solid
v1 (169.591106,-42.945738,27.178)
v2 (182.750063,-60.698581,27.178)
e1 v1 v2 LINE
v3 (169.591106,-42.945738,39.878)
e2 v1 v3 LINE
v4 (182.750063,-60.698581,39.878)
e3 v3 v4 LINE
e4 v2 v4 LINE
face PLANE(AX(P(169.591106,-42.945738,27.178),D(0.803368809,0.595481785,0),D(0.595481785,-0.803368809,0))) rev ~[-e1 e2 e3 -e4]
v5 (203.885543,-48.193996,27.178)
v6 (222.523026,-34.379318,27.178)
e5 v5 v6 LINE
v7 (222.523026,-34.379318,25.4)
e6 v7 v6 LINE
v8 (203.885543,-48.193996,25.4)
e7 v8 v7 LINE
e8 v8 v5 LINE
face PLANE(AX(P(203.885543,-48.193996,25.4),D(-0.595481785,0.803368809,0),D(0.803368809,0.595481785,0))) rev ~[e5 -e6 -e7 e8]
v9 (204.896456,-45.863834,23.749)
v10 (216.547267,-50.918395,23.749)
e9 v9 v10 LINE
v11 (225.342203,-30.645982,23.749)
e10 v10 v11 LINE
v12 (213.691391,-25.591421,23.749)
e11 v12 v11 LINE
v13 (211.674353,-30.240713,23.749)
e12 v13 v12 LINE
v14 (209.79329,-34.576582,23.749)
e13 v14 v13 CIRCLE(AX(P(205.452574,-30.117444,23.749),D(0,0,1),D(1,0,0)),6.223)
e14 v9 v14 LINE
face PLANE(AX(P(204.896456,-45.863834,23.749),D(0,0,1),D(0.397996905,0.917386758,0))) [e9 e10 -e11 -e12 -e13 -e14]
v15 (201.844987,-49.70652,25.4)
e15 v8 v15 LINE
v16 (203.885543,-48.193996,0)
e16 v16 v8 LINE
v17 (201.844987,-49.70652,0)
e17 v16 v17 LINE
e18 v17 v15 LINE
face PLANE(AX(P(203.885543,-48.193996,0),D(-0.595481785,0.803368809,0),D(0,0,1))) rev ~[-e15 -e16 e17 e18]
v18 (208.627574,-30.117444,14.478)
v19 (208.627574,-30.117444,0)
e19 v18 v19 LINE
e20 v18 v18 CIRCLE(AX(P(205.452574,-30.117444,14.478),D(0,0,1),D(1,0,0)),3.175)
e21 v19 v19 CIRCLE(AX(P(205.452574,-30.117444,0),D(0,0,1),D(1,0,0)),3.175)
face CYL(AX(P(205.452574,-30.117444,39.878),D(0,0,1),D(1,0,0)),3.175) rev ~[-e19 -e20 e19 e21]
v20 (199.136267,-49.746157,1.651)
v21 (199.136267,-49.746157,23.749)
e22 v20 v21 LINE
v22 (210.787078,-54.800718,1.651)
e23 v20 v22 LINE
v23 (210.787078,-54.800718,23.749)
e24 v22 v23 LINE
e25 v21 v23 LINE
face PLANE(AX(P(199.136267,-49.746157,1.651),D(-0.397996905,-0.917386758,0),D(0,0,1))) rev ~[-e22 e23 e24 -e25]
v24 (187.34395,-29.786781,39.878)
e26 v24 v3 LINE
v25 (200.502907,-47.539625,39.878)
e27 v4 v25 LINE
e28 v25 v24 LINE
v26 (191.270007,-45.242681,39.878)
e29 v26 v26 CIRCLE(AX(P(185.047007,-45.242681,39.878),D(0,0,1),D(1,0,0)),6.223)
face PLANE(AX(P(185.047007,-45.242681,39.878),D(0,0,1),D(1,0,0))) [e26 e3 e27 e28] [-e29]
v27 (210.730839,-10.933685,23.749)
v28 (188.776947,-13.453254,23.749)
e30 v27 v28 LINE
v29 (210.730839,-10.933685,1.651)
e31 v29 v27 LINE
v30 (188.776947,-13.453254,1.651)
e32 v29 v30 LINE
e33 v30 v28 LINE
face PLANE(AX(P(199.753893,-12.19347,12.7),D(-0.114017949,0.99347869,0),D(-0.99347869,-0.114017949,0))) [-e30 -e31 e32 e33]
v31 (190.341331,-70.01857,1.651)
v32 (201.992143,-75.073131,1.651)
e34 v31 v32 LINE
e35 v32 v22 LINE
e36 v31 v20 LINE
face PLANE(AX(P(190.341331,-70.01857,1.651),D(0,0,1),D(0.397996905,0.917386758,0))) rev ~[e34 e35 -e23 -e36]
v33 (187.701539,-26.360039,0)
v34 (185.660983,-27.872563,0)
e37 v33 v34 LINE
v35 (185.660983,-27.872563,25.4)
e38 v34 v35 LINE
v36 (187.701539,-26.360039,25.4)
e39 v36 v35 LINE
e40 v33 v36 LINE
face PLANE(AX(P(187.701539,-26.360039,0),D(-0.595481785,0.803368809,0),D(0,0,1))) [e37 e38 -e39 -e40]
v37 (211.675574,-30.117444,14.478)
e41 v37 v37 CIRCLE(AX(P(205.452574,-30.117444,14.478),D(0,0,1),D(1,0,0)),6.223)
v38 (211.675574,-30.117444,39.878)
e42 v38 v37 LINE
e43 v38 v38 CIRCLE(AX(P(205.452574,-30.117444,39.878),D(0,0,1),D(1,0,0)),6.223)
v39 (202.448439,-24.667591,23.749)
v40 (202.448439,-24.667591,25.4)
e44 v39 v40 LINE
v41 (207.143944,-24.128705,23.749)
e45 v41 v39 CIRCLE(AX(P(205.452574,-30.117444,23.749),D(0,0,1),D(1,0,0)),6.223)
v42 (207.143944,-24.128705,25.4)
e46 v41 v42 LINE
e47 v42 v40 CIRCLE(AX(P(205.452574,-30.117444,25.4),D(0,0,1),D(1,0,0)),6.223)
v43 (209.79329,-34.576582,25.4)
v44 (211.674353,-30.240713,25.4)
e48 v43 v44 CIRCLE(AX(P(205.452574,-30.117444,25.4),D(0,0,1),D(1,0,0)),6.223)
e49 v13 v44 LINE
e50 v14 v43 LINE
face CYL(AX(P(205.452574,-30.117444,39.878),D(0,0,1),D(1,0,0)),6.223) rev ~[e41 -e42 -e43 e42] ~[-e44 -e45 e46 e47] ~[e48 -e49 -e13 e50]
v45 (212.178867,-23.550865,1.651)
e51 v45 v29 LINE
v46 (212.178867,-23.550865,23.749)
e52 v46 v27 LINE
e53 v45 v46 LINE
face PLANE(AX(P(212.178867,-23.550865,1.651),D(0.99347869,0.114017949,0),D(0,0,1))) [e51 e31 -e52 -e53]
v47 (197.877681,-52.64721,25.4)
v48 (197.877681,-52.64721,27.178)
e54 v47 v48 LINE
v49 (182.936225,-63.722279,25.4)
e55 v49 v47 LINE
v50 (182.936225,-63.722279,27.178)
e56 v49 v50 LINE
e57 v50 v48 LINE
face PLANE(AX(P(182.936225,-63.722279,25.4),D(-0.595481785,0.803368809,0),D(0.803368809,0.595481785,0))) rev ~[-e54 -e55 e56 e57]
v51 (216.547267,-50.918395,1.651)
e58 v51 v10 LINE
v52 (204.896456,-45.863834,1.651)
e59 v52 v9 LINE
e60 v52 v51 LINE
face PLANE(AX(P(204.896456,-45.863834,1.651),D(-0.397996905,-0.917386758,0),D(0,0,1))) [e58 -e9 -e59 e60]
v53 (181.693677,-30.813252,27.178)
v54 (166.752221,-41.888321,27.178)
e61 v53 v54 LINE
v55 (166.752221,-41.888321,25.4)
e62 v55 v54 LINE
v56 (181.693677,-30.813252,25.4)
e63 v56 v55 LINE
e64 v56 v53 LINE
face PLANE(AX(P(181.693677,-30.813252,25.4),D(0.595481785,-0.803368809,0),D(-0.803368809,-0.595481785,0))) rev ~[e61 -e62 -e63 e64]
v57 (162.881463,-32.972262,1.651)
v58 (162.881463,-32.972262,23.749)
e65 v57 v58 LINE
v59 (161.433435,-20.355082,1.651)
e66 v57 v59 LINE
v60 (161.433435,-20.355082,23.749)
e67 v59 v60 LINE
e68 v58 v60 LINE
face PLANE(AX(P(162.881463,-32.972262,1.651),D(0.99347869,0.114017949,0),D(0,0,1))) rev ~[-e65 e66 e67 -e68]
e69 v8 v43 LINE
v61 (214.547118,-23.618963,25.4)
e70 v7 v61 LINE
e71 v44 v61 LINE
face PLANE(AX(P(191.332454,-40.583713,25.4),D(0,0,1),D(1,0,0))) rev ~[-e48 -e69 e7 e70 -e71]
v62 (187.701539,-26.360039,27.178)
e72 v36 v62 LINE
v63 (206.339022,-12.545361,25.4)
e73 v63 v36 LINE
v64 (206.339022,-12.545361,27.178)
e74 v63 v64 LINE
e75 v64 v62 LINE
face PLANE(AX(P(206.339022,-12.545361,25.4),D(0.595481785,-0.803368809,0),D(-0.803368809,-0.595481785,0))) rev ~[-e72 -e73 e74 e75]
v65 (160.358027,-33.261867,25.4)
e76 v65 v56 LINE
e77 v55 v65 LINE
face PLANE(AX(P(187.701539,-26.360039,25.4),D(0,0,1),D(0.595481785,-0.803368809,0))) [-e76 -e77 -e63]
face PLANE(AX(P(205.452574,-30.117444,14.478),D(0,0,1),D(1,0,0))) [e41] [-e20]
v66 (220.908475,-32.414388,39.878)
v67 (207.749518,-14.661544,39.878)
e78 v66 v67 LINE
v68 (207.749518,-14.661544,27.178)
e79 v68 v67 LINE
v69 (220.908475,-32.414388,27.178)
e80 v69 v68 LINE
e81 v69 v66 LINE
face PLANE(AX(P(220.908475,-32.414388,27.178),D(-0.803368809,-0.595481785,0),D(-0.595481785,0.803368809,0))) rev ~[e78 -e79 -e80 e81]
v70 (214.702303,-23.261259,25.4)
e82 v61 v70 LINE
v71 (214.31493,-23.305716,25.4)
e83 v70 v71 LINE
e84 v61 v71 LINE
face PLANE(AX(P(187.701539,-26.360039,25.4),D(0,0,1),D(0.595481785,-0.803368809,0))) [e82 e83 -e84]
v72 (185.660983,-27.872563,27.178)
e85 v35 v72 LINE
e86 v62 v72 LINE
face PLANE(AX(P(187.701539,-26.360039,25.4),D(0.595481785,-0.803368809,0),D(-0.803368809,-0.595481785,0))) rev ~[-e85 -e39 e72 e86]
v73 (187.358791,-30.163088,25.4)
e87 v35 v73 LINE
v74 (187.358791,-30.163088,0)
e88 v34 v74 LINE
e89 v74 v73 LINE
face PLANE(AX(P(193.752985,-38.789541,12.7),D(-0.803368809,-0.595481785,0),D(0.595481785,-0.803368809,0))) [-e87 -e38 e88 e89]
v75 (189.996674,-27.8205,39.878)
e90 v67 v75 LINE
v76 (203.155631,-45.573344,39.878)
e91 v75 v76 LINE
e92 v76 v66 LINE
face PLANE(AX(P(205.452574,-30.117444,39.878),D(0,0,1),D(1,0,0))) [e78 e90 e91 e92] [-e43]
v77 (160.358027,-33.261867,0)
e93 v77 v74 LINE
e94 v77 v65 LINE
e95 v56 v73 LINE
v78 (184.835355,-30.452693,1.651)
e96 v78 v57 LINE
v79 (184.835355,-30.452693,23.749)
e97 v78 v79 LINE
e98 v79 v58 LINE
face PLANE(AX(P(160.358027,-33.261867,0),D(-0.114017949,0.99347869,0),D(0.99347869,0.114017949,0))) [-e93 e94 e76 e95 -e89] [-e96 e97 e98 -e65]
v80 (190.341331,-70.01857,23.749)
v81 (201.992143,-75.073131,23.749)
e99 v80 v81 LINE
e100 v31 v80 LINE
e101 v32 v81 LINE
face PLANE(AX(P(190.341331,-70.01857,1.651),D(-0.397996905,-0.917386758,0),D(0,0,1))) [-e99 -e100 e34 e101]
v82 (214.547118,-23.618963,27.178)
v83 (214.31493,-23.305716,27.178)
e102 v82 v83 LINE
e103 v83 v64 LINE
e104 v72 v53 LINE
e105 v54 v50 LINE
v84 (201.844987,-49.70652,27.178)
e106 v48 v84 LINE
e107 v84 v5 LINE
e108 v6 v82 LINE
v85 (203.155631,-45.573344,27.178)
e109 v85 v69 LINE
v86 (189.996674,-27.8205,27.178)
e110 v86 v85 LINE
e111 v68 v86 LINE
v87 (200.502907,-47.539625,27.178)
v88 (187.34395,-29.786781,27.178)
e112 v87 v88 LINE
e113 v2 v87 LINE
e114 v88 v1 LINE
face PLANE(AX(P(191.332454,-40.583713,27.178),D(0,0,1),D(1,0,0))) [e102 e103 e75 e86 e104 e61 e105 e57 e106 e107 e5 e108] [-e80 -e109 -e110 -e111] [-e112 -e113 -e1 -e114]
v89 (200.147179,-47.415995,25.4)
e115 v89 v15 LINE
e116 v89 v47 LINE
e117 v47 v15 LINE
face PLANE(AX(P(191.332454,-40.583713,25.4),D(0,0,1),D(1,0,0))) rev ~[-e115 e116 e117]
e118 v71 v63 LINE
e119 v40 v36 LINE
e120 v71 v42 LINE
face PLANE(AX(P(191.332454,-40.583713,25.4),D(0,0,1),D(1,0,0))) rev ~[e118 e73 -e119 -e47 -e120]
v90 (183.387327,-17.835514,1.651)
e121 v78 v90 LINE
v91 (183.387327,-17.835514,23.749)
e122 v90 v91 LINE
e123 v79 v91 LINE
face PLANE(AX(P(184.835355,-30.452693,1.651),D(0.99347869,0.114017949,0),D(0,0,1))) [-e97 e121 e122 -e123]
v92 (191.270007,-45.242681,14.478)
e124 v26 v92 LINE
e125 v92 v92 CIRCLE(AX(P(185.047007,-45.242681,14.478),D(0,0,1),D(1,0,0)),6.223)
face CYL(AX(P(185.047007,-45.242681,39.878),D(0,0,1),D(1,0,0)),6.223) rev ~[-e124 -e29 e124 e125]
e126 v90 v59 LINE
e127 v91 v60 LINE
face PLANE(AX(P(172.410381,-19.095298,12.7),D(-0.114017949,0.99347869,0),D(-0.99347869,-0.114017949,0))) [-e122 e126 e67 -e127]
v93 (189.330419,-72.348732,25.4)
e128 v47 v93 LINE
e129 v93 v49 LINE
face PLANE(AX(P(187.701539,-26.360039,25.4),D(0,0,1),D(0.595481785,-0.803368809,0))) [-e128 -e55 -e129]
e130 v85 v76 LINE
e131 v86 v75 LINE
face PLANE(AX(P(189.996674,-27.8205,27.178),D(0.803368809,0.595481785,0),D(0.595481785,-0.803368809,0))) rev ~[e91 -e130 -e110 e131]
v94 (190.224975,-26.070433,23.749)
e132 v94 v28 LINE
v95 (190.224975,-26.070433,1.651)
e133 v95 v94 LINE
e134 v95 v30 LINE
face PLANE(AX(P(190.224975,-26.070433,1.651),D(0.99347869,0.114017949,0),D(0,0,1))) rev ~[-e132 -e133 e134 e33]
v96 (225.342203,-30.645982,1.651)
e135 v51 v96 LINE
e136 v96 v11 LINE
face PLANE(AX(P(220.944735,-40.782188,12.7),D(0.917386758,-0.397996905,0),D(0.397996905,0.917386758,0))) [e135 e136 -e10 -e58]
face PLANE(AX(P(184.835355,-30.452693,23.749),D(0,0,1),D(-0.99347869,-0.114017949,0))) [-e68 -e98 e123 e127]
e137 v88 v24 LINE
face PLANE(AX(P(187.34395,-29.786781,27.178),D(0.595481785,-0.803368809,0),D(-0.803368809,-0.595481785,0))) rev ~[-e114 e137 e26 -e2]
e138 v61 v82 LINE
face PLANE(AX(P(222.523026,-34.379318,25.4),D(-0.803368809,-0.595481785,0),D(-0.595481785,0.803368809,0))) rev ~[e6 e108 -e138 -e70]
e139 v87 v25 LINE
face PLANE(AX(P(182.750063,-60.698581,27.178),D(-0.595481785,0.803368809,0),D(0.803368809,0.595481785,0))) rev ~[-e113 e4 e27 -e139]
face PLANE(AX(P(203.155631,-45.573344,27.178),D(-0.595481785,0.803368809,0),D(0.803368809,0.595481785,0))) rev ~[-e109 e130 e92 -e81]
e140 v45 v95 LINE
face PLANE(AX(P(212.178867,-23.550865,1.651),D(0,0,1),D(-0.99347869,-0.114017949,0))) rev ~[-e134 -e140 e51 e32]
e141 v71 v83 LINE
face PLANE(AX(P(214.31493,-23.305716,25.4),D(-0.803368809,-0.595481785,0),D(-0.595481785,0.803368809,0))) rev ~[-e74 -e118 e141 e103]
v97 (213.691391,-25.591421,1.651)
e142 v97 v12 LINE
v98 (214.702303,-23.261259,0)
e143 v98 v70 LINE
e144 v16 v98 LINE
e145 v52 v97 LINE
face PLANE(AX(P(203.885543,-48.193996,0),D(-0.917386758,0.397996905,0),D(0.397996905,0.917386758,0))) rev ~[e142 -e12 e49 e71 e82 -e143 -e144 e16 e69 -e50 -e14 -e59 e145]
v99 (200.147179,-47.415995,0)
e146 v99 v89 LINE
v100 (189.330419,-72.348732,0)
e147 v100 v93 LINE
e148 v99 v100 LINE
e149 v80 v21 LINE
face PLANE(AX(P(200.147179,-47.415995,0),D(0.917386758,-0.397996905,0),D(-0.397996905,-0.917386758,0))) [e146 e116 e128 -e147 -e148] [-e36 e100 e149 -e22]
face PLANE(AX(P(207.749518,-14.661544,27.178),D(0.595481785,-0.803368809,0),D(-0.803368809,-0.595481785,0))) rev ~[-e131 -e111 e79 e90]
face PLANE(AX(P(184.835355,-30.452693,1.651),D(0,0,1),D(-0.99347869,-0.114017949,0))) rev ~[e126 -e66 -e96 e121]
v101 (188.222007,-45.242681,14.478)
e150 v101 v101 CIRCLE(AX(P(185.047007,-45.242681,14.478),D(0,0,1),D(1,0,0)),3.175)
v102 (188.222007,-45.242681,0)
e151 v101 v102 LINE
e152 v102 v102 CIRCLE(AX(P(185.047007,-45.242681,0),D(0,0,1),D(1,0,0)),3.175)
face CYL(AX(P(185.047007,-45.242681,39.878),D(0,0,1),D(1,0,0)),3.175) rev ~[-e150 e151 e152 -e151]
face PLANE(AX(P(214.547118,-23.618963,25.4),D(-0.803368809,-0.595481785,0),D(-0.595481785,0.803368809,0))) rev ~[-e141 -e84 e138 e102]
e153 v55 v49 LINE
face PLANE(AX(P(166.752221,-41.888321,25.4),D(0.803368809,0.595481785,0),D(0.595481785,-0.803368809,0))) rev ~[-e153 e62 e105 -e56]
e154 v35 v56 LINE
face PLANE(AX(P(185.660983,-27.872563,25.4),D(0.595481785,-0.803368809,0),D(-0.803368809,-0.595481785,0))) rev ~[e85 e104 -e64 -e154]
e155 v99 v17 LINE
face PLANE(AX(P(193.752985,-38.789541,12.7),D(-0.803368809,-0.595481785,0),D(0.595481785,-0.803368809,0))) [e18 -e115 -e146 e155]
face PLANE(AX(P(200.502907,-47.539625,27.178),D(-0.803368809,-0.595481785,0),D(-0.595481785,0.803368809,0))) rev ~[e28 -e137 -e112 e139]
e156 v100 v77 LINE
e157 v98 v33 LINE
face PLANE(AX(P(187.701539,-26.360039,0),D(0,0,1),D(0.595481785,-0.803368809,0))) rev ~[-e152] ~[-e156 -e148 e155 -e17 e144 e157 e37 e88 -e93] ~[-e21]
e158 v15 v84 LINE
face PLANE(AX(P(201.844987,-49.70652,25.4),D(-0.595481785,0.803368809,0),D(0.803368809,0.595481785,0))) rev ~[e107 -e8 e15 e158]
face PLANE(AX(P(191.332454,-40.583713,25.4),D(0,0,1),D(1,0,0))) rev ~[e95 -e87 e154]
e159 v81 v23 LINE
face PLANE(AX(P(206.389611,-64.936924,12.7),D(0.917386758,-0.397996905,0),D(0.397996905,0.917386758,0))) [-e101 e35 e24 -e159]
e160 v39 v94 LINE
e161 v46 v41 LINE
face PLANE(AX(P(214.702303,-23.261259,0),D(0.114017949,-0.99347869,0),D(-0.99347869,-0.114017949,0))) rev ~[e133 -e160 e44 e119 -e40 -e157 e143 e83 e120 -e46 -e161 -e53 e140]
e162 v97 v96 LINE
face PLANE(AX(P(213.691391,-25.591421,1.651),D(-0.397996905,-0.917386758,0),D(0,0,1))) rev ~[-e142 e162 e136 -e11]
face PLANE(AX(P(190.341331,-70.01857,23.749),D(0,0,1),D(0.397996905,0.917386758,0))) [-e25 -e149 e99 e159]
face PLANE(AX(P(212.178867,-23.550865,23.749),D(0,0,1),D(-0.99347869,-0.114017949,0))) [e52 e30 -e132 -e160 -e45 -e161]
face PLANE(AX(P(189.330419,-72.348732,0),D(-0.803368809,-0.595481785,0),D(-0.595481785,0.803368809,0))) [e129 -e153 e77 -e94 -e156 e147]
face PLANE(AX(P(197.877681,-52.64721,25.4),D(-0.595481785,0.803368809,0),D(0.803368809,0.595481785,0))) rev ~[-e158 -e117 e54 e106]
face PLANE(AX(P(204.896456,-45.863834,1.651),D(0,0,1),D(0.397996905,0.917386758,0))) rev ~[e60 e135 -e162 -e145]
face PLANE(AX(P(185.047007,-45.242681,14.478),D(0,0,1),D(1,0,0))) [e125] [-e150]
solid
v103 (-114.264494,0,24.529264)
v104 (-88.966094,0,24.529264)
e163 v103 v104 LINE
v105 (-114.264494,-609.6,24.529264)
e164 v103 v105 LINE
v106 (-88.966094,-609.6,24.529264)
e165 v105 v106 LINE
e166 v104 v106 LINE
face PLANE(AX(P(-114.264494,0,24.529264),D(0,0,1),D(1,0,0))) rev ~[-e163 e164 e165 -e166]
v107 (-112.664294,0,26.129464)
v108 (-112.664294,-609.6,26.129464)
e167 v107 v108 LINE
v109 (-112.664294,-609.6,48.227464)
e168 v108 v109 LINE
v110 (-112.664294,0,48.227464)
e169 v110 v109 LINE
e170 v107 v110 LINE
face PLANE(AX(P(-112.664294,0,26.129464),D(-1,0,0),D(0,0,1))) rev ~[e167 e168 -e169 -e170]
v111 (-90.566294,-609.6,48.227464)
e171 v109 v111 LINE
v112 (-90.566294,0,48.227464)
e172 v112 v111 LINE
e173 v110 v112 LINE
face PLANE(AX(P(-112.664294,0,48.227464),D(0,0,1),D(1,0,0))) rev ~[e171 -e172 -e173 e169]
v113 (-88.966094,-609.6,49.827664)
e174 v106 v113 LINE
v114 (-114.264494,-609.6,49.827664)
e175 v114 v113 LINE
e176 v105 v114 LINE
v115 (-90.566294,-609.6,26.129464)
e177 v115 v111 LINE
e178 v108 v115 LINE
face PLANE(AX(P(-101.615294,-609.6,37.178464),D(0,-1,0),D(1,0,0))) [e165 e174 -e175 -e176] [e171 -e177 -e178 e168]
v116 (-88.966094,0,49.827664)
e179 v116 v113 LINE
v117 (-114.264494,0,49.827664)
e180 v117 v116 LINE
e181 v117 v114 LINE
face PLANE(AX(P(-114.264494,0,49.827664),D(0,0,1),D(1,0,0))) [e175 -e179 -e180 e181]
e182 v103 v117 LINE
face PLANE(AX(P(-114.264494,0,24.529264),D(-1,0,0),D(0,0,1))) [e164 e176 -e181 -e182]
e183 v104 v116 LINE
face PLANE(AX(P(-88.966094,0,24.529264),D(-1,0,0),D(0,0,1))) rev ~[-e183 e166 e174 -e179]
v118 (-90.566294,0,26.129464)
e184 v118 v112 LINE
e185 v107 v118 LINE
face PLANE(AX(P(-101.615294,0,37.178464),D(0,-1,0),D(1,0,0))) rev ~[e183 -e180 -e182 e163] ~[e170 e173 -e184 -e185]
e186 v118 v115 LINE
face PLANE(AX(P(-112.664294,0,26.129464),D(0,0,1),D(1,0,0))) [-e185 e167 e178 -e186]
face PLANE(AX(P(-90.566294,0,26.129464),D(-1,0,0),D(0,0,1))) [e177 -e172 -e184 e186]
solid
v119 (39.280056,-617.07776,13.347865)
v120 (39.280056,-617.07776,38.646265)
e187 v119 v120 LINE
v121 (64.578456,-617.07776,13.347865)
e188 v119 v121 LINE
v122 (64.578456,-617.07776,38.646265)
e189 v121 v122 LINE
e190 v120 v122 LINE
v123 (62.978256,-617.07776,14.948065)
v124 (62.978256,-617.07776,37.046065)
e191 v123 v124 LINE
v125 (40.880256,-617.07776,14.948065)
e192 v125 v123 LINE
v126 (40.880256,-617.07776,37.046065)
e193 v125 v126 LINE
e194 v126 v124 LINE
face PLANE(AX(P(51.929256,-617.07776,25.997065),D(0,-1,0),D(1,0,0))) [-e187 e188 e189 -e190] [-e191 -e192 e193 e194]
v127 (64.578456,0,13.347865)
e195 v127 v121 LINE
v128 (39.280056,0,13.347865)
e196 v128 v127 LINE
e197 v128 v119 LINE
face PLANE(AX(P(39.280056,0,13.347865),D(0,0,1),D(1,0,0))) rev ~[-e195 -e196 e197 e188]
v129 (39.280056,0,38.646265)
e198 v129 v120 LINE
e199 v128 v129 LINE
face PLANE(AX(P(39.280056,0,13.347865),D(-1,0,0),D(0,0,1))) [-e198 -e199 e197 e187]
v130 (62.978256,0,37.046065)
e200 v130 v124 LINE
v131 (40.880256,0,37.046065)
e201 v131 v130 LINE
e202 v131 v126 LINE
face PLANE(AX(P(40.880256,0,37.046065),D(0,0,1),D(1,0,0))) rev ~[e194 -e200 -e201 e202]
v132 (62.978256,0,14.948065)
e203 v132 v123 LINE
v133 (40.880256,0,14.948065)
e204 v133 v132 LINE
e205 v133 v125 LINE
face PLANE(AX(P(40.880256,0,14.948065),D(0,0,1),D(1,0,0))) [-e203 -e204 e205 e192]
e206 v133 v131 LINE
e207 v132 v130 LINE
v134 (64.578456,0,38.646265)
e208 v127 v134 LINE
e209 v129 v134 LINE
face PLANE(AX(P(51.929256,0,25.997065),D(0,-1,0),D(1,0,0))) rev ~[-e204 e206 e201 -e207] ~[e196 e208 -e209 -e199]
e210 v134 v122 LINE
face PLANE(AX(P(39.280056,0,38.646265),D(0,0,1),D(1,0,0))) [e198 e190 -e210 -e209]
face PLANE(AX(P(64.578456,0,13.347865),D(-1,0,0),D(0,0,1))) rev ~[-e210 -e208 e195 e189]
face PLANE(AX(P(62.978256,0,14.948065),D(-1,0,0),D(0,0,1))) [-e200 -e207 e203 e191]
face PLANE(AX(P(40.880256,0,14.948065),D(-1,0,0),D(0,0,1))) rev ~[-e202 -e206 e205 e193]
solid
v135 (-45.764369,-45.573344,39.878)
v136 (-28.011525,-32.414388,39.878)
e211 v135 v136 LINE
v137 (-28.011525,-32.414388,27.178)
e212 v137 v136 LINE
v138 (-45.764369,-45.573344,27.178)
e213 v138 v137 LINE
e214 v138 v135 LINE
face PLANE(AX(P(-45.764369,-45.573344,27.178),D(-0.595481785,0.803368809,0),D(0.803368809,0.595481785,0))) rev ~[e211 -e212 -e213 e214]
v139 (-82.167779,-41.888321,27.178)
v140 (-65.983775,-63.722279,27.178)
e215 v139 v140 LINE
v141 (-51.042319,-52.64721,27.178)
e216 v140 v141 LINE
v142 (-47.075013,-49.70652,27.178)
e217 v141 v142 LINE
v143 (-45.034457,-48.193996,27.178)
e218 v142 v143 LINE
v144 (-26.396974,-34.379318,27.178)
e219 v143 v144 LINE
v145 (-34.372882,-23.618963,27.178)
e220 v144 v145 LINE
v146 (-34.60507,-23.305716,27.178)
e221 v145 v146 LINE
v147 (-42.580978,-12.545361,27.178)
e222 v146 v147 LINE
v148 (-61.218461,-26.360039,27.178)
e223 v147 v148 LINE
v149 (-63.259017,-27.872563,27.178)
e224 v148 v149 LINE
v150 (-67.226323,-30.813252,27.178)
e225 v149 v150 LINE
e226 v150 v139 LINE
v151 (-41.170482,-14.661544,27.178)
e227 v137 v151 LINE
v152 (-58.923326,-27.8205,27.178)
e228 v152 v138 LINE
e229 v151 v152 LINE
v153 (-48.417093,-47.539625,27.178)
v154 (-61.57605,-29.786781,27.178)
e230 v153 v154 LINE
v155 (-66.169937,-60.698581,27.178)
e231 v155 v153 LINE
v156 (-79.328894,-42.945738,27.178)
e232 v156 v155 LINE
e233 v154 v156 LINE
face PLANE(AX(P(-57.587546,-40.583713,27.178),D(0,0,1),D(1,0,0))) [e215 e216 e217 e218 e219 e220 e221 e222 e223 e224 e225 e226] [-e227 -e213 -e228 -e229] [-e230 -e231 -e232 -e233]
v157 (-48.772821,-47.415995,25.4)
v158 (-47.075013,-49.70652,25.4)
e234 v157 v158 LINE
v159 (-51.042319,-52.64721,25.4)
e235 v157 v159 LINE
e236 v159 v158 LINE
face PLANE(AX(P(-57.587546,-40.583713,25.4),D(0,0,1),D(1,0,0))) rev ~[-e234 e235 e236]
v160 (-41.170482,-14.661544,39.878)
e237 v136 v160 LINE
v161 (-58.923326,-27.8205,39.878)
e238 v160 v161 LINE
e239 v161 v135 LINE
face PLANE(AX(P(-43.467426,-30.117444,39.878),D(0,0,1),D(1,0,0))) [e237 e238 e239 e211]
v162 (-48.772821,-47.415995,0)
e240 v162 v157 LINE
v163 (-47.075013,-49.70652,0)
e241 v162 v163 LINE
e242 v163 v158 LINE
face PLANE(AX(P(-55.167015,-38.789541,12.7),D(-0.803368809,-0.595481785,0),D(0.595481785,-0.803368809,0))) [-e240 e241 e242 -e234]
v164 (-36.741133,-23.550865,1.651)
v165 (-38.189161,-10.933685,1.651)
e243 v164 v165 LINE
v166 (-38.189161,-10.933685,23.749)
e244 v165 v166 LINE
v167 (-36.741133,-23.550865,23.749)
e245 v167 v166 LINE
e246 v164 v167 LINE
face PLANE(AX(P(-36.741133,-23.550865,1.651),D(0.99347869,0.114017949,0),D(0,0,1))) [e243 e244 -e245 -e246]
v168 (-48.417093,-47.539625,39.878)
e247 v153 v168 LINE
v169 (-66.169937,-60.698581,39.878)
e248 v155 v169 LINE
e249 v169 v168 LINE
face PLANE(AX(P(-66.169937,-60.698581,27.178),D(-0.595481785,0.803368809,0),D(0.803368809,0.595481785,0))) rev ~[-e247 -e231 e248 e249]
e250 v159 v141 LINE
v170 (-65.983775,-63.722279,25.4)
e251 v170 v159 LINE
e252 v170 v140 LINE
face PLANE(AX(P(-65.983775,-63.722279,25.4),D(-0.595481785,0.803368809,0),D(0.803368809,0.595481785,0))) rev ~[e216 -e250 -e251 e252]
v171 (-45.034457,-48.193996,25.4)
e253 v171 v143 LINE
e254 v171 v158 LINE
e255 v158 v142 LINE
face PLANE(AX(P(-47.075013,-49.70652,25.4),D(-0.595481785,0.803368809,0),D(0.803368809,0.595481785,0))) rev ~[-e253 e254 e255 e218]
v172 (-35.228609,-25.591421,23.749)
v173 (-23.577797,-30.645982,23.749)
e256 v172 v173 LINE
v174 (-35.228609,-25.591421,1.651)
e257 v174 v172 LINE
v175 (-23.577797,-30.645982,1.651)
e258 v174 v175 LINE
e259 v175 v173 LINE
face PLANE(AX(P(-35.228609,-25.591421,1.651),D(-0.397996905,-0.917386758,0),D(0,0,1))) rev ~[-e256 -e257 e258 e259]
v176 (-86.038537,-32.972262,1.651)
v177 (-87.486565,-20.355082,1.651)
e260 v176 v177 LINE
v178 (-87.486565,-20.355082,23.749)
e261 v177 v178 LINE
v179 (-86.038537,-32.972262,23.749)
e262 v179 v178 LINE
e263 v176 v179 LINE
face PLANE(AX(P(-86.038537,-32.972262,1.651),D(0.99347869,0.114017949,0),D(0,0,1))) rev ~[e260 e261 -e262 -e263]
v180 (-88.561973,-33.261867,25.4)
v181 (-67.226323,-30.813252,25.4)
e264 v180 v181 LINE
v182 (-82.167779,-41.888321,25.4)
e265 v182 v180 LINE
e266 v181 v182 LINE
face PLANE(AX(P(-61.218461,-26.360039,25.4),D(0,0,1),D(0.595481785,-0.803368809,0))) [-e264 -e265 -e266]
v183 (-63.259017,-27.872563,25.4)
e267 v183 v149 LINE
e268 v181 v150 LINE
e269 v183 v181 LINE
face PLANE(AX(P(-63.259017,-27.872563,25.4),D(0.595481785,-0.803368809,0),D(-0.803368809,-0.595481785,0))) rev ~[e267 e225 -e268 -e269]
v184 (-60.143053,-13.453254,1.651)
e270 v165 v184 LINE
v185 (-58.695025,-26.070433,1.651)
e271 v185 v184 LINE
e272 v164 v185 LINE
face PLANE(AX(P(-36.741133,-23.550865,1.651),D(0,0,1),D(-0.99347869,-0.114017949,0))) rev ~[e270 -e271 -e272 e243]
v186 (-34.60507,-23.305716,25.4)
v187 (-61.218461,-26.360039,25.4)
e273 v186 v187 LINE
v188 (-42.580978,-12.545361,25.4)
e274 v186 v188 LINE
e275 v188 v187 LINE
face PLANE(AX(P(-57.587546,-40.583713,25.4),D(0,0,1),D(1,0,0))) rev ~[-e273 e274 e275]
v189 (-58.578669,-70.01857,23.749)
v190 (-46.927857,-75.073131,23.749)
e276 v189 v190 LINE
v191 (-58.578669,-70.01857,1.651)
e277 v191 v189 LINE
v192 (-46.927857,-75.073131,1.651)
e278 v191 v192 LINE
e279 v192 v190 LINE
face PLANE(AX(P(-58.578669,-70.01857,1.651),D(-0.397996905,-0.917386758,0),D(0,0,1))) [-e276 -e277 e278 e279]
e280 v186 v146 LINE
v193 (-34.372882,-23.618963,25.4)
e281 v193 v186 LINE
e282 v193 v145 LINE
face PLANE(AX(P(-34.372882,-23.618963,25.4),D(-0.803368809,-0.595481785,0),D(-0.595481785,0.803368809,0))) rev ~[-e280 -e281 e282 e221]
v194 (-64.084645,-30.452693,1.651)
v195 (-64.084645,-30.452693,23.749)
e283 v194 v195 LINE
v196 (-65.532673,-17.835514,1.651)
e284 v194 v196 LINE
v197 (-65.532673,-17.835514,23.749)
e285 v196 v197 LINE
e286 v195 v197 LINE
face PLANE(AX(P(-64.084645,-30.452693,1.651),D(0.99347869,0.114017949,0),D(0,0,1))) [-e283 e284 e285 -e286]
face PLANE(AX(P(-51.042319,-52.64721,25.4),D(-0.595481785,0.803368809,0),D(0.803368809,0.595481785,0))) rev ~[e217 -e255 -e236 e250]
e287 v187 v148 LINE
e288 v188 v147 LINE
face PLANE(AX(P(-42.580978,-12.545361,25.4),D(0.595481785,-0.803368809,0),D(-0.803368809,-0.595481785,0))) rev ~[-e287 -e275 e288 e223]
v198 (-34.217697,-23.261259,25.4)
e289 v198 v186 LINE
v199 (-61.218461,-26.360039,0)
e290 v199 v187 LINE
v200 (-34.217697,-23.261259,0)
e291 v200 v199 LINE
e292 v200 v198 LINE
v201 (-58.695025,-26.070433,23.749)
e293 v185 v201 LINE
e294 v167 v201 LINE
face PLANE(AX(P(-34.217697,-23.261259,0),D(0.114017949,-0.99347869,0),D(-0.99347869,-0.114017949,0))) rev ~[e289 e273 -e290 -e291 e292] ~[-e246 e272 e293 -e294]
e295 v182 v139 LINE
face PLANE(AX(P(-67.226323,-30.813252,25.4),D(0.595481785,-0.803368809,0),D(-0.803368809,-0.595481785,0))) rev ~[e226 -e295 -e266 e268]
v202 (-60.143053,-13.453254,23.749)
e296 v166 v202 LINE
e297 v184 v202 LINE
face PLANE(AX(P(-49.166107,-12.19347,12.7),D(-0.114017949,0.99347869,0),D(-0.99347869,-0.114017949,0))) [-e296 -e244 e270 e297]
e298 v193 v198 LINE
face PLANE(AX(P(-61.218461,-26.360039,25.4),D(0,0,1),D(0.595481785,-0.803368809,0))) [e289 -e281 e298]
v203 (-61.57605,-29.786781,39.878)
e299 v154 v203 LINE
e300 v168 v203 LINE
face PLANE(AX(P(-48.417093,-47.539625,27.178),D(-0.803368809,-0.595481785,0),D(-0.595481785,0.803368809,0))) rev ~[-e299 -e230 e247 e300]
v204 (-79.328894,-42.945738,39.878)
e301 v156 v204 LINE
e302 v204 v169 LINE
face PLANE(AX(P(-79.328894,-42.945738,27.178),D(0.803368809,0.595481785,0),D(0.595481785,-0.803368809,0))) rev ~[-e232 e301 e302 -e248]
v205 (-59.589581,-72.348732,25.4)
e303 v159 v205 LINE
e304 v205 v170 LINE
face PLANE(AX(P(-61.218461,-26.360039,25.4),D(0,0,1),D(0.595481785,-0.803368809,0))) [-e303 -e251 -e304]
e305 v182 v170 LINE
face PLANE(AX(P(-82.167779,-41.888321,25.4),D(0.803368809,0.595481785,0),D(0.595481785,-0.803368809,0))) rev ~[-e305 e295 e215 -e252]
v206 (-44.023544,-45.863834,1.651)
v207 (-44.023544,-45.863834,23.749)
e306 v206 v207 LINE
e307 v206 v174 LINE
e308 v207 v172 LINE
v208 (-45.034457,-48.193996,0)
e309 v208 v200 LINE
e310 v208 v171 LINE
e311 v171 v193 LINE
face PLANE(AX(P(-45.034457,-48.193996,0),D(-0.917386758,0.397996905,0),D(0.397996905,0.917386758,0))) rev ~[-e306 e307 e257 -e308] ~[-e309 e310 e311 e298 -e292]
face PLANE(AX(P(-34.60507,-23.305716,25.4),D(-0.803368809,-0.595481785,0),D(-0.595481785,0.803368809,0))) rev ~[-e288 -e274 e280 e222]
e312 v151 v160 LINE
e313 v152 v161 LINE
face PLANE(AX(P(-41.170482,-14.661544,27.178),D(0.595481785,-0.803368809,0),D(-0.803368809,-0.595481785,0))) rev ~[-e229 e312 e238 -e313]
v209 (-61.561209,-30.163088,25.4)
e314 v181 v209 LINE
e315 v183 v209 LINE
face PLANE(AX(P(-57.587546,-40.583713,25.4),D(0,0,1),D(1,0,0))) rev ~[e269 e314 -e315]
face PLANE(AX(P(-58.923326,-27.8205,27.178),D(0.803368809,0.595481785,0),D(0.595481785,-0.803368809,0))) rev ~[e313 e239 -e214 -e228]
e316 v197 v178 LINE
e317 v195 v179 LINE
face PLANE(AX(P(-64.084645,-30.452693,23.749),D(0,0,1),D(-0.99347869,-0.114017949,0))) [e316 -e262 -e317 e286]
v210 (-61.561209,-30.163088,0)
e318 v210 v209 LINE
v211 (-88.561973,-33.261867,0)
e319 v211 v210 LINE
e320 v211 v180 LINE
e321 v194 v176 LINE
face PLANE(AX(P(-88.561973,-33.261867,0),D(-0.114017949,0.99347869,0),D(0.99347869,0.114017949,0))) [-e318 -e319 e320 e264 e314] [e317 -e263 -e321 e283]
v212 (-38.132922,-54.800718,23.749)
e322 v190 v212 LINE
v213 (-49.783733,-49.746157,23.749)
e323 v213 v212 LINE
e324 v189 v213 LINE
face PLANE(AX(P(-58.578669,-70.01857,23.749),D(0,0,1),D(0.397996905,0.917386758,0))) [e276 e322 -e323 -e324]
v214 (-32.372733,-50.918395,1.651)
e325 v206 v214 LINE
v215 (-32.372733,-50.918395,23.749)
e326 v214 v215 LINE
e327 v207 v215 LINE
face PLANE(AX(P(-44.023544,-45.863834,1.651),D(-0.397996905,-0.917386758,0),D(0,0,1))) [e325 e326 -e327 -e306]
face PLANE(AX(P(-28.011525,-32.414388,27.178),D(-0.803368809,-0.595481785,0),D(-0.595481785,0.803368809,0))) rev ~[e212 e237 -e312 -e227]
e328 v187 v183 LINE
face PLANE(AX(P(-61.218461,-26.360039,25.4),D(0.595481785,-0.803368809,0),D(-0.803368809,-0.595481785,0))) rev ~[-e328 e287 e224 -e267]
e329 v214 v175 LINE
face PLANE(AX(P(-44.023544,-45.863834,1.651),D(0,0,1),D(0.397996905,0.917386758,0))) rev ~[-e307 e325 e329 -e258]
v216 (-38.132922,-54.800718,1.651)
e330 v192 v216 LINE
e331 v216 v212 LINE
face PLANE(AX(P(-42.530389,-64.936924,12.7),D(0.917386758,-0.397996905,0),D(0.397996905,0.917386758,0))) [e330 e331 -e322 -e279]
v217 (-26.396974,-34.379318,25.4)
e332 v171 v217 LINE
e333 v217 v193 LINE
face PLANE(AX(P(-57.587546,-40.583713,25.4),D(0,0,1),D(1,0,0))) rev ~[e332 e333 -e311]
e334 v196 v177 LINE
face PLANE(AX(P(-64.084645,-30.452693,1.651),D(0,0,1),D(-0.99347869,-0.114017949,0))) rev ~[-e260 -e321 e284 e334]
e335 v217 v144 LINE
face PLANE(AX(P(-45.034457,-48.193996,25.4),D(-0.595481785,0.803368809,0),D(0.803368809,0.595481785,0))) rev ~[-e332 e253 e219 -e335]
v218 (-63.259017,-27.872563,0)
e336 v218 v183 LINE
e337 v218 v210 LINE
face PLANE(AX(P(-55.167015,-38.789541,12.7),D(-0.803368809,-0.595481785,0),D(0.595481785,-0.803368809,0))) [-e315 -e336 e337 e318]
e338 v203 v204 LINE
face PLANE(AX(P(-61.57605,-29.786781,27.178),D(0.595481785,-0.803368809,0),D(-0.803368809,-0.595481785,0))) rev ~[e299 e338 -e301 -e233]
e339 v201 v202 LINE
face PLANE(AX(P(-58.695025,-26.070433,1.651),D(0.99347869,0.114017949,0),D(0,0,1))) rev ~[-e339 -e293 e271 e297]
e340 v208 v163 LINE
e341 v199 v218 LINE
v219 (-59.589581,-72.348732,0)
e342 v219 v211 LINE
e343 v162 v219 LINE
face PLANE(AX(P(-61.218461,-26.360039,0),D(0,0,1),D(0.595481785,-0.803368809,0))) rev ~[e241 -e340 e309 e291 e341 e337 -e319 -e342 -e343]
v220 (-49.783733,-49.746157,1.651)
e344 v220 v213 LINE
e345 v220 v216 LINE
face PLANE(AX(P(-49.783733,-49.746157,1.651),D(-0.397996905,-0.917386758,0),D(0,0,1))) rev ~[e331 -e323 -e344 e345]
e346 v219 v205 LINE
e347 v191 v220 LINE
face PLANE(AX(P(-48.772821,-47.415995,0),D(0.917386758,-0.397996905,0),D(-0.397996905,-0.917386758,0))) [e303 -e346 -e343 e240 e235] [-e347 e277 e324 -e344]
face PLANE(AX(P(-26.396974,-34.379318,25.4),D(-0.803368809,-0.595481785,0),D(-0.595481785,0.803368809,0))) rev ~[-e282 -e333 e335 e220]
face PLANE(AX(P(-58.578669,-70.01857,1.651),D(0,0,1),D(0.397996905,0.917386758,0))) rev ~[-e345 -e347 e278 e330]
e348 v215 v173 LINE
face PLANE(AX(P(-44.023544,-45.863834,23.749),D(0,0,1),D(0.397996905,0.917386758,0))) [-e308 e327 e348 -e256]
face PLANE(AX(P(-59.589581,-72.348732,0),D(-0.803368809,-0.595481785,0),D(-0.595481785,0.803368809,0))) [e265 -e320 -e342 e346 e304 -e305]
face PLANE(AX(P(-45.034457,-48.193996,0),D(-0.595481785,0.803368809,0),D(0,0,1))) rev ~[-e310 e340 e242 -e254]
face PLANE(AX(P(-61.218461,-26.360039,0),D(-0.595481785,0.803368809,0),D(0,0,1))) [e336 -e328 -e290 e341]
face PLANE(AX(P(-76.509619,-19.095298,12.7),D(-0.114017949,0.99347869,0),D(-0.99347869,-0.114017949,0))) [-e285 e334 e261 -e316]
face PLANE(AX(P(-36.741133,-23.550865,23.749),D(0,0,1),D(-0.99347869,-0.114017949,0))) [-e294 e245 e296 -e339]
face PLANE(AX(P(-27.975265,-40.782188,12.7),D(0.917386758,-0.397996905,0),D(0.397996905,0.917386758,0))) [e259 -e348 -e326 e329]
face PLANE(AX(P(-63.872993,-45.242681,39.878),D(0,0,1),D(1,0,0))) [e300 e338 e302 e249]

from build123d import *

# Parameters (mm, degrees)
F0_W      = 25.2984
F0_H      = 25.2984
F0_W_2    = 22.098
F0_H_2    = 22.098
F1_DEPTH  = 609.6
F3_DEPTH  = 25.4
F4_W      = 22.098
F4_H      = 22.098
F5_DEPTH  = 12.7
F6_W      = 22.098
F6_H      = 22.098
F7_DEPTH  = 12.7
F8_W      = 27.178
F8_H      = 25.4
F9_DEPTH  = 2.54
F11_DEPTH = 25.4
F13_W     = 22.098
F13_H     = 22.098
F14_DEPTH = 12.7
F15_W     = 22.098
F15_H     = 22.098
F16_DEPTH = 12.7
F18_DEPTH = 1.778
F20_DEPTH = 12.7
F22_R     = 3.175
F23_R     = 3.175
F24_DEPTH = 50.8
F26_R     = 6.223
F26_R_2   = 3.175
F25_R     = 6.223
F25_R_2   = 3.175
F27_DEPTH = 25.4
F28_W     = 25.2984
F28_H     = 25.2984
F28_W_2   = 22.098
F28_H_2   = 22.098
F29_DEPTH = 617.07776


with BuildPart() as f1:
    # F0 (on Front) → F1 (new body)
    with BuildSketch(Plane.XZ):
        with Locations((-101.6152944864, 37.1784642637)):
            Rectangle(F0_W, F0_H)
        with Locations((-101.6152944864, 37.1784642637)):
            Rectangle(F0_W_2, F0_H_2, mode=Mode.SUBTRACT)
    extrude(amount=F1_DEPTH)


with BuildPart() as f3:
    # F2 (on Top) → F3 (new body)
    with BuildSketch(Plane.XY):
        Polygon((-34.21769673, -23.2612590617), (-61.2184605644, -26.3600388792), (-45.0344566045, -48.1939963727), align=None)
    extrude(amount=F3_DEPTH)

    # F4 (on face) → F5 (join)
    with BuildSketch(Plane(origin=(2.1900719944, -19.082871383, 0), x_dir=(-0.9934786899, -0.114017949, 0), z_dir=(-0.114017949, 0.9934786899, 0))):
        with Locations((50.2357535681, 12.7)):
            Rectangle(F4_W, F4_H)
    extrude(amount=F5_DEPTH)

    # F6 (on face) → F7 (join)
    with BuildSketch(Plane(origin=(-20.3044777856, 8.808846692, 0), x_dir=(0.3979969046, 0.9173867581, 0), z_dir=(0.9173867581, -0.3979969046, 0))):
        with Locations((-48.5471084221, 12.7)):
            Rectangle(F6_W, F6_H)
    extrude(amount=F7_DEPTH)

    # F8 (on face) → F9 (join)
    with BuildSketch(Plane(origin=(-52.1209011583, -38.6336224658, 0), x_dir=(0.5954817853, -0.8033688091, 0), z_dir=(-0.8033688091, -0.5954817853, 0))):
        with Locations((-1.688645146, 12.7)):
            Rectangle(F8_W, F8_H)
    extrude(amount=F9_DEPTH)


with BuildPart() as f11:
    # F10 (on face) → F11 (new body)
    with BuildSketch(Plane(origin=(0, 0, 0), x_dir=(1, 0, 0), z_dir=(0, 0, -1))):
        Polygon((-88.5619732819, 33.2618674112), (-61.5612094474, 30.1630875938), (-48.7728212717, 47.4159951272), (-59.5895811463, 72.3487324381), align=None)
    extrude(amount=-F11_DEPTH)


with BuildPart() as f3_1:
    add(f3.part)

    # F12: union F11
    add(f11.part)

    # F13 (on face) → F14 (join)
    with BuildSketch(Plane(origin=(2.6164042983, -22.7976554369, 0), x_dir=(-0.9934786899, -0.114017949, 0), z_dir=(-0.114017949, 0.9934786899, 0))):
        with Locations((78.1878830937, 12.7)):
            Rectangle(F13_W, F13_H)
    extrude(amount=F14_DEPTH)

    # F15 (on face) → F16 (join)
    with BuildSketch(Plane(origin=(-23.7347412977, 10.2970241133, 0), x_dir=(0.3979969046, 0.9173867581, 0), z_dir=(0.9173867581, -0.3979969046, 0))):
        with Locations((-76.4992379477, 12.7)):
            Rectangle(F15_W, F15_H)
    extrude(amount=F16_DEPTH)

    # F17 (on face) → F18 (join)
    with BuildSketch(Plane.XY.offset(25.4)):
        Polygon((-82.167779194, -41.8883211779), (-65.9837752341, -63.7222786714), (-51.0423190211, -52.6472096378), (-48.7728212717, -47.4159951272), (-47.0750133796, -49.7065201072), (-45.0344566045, -48.1939963727), (-34.3728819471, -23.6189625051), (-34.6050696075, -23.3057164431), (-61.2184605644, -26.3600388792), (-63.2590173395, -27.8725626138), (-61.5612094474, -30.1630875938), (-67.2263229809, -30.8132521443), align=None)
        Polygon((-34.3728819471, -23.6189625051), (-45.0344566045, -48.1939963727), (-26.3969737974, -34.3793182208), align=None)
        Polygon((-42.5809777572, -12.5453607273), (-61.2184605644, -26.3600388792), (-34.6050696075, -23.3057164431), align=None)
        Polygon((-63.2590173395, -27.8725626138), (-67.2263229809, -30.8132521443), (-61.5612094474, -30.1630875938), align=None)
        Polygon((-48.7728212717, -47.4159951272), (-51.0423190211, -52.6472096378), (-47.0750133796, -49.7065201072), align=None)
    extrude(amount=F18_DEPTH)

    # F19 (on face) → F20 (join)
    with BuildSketch(Plane.XY.offset(27.178)):
        Polygon((-66.1699370649, -60.6985814689), (-48.4170931216, -47.5396249781), (-61.5760496123, -29.7867810348), (-79.3288935556, -42.9457375256), align=None)
        Polygon((-45.764369314, -45.5733441232), (-28.0115253707, -32.4143876325), (-41.1704818614, -14.6615436892), (-58.9233258047, -27.8205001799), align=None)
    extrude(amount=F20_DEPTH)


with BuildPart() as f21_1:
    # F21: copy of F3
    add(f3_1.part.moved(Location((248.92, 0, 0))))

    # F22 (on face) + F23 (on face) → F24 (cut)
    with BuildSketch(Plane.XY.offset(39.878)):
        with Locations((205.4525744123, -30.1174439062)):
            Circle(F22_R)
    with BuildSketch(Plane.XY.offset(39.878)):
        with Locations((185.0470066614, -45.2426812518)):
            Circle(F23_R)
    extrude(amount=-F24_DEPTH, mode=Mode.SUBTRACT)

    # F26 (on face) + F25 (on face) → F27 (cut)
    with BuildSketch(Plane.XY.offset(39.878)):
        with Locations((185.0470066614, -45.2426812518)):
            Circle(F26_R)
        with Locations((185.0470066614, -45.2426812518)):
            Circle(F26_R_2, mode=Mode.SUBTRACT)
    with BuildSketch(Plane.XY.offset(39.878)):
        with Locations((205.4525744123, -30.1174439062)):
            Circle(F25_R)
        with Locations((205.4525744123, -30.1174439062)):
            Circle(F25_R_2, mode=Mode.SUBTRACT)
    extrude(amount=-F27_DEPTH, mode=Mode.SUBTRACT)


with BuildPart() as f29:
    # F28 (on Front) → F29 (new body)
    with BuildSketch(Plane.XZ):
        with Locations((51.9292559475, 25.9970645619)):
            Rectangle(F28_W, F28_H)
        with Locations((51.9292559475, 25.9970645619)):
            Rectangle(F28_W_2, F28_H_2, mode=Mode.SUBTRACT)
    extrude(amount=F29_DEPTH)


solid = Compound([f1.part, f3_1.part, f21_1.part, f29.part])
